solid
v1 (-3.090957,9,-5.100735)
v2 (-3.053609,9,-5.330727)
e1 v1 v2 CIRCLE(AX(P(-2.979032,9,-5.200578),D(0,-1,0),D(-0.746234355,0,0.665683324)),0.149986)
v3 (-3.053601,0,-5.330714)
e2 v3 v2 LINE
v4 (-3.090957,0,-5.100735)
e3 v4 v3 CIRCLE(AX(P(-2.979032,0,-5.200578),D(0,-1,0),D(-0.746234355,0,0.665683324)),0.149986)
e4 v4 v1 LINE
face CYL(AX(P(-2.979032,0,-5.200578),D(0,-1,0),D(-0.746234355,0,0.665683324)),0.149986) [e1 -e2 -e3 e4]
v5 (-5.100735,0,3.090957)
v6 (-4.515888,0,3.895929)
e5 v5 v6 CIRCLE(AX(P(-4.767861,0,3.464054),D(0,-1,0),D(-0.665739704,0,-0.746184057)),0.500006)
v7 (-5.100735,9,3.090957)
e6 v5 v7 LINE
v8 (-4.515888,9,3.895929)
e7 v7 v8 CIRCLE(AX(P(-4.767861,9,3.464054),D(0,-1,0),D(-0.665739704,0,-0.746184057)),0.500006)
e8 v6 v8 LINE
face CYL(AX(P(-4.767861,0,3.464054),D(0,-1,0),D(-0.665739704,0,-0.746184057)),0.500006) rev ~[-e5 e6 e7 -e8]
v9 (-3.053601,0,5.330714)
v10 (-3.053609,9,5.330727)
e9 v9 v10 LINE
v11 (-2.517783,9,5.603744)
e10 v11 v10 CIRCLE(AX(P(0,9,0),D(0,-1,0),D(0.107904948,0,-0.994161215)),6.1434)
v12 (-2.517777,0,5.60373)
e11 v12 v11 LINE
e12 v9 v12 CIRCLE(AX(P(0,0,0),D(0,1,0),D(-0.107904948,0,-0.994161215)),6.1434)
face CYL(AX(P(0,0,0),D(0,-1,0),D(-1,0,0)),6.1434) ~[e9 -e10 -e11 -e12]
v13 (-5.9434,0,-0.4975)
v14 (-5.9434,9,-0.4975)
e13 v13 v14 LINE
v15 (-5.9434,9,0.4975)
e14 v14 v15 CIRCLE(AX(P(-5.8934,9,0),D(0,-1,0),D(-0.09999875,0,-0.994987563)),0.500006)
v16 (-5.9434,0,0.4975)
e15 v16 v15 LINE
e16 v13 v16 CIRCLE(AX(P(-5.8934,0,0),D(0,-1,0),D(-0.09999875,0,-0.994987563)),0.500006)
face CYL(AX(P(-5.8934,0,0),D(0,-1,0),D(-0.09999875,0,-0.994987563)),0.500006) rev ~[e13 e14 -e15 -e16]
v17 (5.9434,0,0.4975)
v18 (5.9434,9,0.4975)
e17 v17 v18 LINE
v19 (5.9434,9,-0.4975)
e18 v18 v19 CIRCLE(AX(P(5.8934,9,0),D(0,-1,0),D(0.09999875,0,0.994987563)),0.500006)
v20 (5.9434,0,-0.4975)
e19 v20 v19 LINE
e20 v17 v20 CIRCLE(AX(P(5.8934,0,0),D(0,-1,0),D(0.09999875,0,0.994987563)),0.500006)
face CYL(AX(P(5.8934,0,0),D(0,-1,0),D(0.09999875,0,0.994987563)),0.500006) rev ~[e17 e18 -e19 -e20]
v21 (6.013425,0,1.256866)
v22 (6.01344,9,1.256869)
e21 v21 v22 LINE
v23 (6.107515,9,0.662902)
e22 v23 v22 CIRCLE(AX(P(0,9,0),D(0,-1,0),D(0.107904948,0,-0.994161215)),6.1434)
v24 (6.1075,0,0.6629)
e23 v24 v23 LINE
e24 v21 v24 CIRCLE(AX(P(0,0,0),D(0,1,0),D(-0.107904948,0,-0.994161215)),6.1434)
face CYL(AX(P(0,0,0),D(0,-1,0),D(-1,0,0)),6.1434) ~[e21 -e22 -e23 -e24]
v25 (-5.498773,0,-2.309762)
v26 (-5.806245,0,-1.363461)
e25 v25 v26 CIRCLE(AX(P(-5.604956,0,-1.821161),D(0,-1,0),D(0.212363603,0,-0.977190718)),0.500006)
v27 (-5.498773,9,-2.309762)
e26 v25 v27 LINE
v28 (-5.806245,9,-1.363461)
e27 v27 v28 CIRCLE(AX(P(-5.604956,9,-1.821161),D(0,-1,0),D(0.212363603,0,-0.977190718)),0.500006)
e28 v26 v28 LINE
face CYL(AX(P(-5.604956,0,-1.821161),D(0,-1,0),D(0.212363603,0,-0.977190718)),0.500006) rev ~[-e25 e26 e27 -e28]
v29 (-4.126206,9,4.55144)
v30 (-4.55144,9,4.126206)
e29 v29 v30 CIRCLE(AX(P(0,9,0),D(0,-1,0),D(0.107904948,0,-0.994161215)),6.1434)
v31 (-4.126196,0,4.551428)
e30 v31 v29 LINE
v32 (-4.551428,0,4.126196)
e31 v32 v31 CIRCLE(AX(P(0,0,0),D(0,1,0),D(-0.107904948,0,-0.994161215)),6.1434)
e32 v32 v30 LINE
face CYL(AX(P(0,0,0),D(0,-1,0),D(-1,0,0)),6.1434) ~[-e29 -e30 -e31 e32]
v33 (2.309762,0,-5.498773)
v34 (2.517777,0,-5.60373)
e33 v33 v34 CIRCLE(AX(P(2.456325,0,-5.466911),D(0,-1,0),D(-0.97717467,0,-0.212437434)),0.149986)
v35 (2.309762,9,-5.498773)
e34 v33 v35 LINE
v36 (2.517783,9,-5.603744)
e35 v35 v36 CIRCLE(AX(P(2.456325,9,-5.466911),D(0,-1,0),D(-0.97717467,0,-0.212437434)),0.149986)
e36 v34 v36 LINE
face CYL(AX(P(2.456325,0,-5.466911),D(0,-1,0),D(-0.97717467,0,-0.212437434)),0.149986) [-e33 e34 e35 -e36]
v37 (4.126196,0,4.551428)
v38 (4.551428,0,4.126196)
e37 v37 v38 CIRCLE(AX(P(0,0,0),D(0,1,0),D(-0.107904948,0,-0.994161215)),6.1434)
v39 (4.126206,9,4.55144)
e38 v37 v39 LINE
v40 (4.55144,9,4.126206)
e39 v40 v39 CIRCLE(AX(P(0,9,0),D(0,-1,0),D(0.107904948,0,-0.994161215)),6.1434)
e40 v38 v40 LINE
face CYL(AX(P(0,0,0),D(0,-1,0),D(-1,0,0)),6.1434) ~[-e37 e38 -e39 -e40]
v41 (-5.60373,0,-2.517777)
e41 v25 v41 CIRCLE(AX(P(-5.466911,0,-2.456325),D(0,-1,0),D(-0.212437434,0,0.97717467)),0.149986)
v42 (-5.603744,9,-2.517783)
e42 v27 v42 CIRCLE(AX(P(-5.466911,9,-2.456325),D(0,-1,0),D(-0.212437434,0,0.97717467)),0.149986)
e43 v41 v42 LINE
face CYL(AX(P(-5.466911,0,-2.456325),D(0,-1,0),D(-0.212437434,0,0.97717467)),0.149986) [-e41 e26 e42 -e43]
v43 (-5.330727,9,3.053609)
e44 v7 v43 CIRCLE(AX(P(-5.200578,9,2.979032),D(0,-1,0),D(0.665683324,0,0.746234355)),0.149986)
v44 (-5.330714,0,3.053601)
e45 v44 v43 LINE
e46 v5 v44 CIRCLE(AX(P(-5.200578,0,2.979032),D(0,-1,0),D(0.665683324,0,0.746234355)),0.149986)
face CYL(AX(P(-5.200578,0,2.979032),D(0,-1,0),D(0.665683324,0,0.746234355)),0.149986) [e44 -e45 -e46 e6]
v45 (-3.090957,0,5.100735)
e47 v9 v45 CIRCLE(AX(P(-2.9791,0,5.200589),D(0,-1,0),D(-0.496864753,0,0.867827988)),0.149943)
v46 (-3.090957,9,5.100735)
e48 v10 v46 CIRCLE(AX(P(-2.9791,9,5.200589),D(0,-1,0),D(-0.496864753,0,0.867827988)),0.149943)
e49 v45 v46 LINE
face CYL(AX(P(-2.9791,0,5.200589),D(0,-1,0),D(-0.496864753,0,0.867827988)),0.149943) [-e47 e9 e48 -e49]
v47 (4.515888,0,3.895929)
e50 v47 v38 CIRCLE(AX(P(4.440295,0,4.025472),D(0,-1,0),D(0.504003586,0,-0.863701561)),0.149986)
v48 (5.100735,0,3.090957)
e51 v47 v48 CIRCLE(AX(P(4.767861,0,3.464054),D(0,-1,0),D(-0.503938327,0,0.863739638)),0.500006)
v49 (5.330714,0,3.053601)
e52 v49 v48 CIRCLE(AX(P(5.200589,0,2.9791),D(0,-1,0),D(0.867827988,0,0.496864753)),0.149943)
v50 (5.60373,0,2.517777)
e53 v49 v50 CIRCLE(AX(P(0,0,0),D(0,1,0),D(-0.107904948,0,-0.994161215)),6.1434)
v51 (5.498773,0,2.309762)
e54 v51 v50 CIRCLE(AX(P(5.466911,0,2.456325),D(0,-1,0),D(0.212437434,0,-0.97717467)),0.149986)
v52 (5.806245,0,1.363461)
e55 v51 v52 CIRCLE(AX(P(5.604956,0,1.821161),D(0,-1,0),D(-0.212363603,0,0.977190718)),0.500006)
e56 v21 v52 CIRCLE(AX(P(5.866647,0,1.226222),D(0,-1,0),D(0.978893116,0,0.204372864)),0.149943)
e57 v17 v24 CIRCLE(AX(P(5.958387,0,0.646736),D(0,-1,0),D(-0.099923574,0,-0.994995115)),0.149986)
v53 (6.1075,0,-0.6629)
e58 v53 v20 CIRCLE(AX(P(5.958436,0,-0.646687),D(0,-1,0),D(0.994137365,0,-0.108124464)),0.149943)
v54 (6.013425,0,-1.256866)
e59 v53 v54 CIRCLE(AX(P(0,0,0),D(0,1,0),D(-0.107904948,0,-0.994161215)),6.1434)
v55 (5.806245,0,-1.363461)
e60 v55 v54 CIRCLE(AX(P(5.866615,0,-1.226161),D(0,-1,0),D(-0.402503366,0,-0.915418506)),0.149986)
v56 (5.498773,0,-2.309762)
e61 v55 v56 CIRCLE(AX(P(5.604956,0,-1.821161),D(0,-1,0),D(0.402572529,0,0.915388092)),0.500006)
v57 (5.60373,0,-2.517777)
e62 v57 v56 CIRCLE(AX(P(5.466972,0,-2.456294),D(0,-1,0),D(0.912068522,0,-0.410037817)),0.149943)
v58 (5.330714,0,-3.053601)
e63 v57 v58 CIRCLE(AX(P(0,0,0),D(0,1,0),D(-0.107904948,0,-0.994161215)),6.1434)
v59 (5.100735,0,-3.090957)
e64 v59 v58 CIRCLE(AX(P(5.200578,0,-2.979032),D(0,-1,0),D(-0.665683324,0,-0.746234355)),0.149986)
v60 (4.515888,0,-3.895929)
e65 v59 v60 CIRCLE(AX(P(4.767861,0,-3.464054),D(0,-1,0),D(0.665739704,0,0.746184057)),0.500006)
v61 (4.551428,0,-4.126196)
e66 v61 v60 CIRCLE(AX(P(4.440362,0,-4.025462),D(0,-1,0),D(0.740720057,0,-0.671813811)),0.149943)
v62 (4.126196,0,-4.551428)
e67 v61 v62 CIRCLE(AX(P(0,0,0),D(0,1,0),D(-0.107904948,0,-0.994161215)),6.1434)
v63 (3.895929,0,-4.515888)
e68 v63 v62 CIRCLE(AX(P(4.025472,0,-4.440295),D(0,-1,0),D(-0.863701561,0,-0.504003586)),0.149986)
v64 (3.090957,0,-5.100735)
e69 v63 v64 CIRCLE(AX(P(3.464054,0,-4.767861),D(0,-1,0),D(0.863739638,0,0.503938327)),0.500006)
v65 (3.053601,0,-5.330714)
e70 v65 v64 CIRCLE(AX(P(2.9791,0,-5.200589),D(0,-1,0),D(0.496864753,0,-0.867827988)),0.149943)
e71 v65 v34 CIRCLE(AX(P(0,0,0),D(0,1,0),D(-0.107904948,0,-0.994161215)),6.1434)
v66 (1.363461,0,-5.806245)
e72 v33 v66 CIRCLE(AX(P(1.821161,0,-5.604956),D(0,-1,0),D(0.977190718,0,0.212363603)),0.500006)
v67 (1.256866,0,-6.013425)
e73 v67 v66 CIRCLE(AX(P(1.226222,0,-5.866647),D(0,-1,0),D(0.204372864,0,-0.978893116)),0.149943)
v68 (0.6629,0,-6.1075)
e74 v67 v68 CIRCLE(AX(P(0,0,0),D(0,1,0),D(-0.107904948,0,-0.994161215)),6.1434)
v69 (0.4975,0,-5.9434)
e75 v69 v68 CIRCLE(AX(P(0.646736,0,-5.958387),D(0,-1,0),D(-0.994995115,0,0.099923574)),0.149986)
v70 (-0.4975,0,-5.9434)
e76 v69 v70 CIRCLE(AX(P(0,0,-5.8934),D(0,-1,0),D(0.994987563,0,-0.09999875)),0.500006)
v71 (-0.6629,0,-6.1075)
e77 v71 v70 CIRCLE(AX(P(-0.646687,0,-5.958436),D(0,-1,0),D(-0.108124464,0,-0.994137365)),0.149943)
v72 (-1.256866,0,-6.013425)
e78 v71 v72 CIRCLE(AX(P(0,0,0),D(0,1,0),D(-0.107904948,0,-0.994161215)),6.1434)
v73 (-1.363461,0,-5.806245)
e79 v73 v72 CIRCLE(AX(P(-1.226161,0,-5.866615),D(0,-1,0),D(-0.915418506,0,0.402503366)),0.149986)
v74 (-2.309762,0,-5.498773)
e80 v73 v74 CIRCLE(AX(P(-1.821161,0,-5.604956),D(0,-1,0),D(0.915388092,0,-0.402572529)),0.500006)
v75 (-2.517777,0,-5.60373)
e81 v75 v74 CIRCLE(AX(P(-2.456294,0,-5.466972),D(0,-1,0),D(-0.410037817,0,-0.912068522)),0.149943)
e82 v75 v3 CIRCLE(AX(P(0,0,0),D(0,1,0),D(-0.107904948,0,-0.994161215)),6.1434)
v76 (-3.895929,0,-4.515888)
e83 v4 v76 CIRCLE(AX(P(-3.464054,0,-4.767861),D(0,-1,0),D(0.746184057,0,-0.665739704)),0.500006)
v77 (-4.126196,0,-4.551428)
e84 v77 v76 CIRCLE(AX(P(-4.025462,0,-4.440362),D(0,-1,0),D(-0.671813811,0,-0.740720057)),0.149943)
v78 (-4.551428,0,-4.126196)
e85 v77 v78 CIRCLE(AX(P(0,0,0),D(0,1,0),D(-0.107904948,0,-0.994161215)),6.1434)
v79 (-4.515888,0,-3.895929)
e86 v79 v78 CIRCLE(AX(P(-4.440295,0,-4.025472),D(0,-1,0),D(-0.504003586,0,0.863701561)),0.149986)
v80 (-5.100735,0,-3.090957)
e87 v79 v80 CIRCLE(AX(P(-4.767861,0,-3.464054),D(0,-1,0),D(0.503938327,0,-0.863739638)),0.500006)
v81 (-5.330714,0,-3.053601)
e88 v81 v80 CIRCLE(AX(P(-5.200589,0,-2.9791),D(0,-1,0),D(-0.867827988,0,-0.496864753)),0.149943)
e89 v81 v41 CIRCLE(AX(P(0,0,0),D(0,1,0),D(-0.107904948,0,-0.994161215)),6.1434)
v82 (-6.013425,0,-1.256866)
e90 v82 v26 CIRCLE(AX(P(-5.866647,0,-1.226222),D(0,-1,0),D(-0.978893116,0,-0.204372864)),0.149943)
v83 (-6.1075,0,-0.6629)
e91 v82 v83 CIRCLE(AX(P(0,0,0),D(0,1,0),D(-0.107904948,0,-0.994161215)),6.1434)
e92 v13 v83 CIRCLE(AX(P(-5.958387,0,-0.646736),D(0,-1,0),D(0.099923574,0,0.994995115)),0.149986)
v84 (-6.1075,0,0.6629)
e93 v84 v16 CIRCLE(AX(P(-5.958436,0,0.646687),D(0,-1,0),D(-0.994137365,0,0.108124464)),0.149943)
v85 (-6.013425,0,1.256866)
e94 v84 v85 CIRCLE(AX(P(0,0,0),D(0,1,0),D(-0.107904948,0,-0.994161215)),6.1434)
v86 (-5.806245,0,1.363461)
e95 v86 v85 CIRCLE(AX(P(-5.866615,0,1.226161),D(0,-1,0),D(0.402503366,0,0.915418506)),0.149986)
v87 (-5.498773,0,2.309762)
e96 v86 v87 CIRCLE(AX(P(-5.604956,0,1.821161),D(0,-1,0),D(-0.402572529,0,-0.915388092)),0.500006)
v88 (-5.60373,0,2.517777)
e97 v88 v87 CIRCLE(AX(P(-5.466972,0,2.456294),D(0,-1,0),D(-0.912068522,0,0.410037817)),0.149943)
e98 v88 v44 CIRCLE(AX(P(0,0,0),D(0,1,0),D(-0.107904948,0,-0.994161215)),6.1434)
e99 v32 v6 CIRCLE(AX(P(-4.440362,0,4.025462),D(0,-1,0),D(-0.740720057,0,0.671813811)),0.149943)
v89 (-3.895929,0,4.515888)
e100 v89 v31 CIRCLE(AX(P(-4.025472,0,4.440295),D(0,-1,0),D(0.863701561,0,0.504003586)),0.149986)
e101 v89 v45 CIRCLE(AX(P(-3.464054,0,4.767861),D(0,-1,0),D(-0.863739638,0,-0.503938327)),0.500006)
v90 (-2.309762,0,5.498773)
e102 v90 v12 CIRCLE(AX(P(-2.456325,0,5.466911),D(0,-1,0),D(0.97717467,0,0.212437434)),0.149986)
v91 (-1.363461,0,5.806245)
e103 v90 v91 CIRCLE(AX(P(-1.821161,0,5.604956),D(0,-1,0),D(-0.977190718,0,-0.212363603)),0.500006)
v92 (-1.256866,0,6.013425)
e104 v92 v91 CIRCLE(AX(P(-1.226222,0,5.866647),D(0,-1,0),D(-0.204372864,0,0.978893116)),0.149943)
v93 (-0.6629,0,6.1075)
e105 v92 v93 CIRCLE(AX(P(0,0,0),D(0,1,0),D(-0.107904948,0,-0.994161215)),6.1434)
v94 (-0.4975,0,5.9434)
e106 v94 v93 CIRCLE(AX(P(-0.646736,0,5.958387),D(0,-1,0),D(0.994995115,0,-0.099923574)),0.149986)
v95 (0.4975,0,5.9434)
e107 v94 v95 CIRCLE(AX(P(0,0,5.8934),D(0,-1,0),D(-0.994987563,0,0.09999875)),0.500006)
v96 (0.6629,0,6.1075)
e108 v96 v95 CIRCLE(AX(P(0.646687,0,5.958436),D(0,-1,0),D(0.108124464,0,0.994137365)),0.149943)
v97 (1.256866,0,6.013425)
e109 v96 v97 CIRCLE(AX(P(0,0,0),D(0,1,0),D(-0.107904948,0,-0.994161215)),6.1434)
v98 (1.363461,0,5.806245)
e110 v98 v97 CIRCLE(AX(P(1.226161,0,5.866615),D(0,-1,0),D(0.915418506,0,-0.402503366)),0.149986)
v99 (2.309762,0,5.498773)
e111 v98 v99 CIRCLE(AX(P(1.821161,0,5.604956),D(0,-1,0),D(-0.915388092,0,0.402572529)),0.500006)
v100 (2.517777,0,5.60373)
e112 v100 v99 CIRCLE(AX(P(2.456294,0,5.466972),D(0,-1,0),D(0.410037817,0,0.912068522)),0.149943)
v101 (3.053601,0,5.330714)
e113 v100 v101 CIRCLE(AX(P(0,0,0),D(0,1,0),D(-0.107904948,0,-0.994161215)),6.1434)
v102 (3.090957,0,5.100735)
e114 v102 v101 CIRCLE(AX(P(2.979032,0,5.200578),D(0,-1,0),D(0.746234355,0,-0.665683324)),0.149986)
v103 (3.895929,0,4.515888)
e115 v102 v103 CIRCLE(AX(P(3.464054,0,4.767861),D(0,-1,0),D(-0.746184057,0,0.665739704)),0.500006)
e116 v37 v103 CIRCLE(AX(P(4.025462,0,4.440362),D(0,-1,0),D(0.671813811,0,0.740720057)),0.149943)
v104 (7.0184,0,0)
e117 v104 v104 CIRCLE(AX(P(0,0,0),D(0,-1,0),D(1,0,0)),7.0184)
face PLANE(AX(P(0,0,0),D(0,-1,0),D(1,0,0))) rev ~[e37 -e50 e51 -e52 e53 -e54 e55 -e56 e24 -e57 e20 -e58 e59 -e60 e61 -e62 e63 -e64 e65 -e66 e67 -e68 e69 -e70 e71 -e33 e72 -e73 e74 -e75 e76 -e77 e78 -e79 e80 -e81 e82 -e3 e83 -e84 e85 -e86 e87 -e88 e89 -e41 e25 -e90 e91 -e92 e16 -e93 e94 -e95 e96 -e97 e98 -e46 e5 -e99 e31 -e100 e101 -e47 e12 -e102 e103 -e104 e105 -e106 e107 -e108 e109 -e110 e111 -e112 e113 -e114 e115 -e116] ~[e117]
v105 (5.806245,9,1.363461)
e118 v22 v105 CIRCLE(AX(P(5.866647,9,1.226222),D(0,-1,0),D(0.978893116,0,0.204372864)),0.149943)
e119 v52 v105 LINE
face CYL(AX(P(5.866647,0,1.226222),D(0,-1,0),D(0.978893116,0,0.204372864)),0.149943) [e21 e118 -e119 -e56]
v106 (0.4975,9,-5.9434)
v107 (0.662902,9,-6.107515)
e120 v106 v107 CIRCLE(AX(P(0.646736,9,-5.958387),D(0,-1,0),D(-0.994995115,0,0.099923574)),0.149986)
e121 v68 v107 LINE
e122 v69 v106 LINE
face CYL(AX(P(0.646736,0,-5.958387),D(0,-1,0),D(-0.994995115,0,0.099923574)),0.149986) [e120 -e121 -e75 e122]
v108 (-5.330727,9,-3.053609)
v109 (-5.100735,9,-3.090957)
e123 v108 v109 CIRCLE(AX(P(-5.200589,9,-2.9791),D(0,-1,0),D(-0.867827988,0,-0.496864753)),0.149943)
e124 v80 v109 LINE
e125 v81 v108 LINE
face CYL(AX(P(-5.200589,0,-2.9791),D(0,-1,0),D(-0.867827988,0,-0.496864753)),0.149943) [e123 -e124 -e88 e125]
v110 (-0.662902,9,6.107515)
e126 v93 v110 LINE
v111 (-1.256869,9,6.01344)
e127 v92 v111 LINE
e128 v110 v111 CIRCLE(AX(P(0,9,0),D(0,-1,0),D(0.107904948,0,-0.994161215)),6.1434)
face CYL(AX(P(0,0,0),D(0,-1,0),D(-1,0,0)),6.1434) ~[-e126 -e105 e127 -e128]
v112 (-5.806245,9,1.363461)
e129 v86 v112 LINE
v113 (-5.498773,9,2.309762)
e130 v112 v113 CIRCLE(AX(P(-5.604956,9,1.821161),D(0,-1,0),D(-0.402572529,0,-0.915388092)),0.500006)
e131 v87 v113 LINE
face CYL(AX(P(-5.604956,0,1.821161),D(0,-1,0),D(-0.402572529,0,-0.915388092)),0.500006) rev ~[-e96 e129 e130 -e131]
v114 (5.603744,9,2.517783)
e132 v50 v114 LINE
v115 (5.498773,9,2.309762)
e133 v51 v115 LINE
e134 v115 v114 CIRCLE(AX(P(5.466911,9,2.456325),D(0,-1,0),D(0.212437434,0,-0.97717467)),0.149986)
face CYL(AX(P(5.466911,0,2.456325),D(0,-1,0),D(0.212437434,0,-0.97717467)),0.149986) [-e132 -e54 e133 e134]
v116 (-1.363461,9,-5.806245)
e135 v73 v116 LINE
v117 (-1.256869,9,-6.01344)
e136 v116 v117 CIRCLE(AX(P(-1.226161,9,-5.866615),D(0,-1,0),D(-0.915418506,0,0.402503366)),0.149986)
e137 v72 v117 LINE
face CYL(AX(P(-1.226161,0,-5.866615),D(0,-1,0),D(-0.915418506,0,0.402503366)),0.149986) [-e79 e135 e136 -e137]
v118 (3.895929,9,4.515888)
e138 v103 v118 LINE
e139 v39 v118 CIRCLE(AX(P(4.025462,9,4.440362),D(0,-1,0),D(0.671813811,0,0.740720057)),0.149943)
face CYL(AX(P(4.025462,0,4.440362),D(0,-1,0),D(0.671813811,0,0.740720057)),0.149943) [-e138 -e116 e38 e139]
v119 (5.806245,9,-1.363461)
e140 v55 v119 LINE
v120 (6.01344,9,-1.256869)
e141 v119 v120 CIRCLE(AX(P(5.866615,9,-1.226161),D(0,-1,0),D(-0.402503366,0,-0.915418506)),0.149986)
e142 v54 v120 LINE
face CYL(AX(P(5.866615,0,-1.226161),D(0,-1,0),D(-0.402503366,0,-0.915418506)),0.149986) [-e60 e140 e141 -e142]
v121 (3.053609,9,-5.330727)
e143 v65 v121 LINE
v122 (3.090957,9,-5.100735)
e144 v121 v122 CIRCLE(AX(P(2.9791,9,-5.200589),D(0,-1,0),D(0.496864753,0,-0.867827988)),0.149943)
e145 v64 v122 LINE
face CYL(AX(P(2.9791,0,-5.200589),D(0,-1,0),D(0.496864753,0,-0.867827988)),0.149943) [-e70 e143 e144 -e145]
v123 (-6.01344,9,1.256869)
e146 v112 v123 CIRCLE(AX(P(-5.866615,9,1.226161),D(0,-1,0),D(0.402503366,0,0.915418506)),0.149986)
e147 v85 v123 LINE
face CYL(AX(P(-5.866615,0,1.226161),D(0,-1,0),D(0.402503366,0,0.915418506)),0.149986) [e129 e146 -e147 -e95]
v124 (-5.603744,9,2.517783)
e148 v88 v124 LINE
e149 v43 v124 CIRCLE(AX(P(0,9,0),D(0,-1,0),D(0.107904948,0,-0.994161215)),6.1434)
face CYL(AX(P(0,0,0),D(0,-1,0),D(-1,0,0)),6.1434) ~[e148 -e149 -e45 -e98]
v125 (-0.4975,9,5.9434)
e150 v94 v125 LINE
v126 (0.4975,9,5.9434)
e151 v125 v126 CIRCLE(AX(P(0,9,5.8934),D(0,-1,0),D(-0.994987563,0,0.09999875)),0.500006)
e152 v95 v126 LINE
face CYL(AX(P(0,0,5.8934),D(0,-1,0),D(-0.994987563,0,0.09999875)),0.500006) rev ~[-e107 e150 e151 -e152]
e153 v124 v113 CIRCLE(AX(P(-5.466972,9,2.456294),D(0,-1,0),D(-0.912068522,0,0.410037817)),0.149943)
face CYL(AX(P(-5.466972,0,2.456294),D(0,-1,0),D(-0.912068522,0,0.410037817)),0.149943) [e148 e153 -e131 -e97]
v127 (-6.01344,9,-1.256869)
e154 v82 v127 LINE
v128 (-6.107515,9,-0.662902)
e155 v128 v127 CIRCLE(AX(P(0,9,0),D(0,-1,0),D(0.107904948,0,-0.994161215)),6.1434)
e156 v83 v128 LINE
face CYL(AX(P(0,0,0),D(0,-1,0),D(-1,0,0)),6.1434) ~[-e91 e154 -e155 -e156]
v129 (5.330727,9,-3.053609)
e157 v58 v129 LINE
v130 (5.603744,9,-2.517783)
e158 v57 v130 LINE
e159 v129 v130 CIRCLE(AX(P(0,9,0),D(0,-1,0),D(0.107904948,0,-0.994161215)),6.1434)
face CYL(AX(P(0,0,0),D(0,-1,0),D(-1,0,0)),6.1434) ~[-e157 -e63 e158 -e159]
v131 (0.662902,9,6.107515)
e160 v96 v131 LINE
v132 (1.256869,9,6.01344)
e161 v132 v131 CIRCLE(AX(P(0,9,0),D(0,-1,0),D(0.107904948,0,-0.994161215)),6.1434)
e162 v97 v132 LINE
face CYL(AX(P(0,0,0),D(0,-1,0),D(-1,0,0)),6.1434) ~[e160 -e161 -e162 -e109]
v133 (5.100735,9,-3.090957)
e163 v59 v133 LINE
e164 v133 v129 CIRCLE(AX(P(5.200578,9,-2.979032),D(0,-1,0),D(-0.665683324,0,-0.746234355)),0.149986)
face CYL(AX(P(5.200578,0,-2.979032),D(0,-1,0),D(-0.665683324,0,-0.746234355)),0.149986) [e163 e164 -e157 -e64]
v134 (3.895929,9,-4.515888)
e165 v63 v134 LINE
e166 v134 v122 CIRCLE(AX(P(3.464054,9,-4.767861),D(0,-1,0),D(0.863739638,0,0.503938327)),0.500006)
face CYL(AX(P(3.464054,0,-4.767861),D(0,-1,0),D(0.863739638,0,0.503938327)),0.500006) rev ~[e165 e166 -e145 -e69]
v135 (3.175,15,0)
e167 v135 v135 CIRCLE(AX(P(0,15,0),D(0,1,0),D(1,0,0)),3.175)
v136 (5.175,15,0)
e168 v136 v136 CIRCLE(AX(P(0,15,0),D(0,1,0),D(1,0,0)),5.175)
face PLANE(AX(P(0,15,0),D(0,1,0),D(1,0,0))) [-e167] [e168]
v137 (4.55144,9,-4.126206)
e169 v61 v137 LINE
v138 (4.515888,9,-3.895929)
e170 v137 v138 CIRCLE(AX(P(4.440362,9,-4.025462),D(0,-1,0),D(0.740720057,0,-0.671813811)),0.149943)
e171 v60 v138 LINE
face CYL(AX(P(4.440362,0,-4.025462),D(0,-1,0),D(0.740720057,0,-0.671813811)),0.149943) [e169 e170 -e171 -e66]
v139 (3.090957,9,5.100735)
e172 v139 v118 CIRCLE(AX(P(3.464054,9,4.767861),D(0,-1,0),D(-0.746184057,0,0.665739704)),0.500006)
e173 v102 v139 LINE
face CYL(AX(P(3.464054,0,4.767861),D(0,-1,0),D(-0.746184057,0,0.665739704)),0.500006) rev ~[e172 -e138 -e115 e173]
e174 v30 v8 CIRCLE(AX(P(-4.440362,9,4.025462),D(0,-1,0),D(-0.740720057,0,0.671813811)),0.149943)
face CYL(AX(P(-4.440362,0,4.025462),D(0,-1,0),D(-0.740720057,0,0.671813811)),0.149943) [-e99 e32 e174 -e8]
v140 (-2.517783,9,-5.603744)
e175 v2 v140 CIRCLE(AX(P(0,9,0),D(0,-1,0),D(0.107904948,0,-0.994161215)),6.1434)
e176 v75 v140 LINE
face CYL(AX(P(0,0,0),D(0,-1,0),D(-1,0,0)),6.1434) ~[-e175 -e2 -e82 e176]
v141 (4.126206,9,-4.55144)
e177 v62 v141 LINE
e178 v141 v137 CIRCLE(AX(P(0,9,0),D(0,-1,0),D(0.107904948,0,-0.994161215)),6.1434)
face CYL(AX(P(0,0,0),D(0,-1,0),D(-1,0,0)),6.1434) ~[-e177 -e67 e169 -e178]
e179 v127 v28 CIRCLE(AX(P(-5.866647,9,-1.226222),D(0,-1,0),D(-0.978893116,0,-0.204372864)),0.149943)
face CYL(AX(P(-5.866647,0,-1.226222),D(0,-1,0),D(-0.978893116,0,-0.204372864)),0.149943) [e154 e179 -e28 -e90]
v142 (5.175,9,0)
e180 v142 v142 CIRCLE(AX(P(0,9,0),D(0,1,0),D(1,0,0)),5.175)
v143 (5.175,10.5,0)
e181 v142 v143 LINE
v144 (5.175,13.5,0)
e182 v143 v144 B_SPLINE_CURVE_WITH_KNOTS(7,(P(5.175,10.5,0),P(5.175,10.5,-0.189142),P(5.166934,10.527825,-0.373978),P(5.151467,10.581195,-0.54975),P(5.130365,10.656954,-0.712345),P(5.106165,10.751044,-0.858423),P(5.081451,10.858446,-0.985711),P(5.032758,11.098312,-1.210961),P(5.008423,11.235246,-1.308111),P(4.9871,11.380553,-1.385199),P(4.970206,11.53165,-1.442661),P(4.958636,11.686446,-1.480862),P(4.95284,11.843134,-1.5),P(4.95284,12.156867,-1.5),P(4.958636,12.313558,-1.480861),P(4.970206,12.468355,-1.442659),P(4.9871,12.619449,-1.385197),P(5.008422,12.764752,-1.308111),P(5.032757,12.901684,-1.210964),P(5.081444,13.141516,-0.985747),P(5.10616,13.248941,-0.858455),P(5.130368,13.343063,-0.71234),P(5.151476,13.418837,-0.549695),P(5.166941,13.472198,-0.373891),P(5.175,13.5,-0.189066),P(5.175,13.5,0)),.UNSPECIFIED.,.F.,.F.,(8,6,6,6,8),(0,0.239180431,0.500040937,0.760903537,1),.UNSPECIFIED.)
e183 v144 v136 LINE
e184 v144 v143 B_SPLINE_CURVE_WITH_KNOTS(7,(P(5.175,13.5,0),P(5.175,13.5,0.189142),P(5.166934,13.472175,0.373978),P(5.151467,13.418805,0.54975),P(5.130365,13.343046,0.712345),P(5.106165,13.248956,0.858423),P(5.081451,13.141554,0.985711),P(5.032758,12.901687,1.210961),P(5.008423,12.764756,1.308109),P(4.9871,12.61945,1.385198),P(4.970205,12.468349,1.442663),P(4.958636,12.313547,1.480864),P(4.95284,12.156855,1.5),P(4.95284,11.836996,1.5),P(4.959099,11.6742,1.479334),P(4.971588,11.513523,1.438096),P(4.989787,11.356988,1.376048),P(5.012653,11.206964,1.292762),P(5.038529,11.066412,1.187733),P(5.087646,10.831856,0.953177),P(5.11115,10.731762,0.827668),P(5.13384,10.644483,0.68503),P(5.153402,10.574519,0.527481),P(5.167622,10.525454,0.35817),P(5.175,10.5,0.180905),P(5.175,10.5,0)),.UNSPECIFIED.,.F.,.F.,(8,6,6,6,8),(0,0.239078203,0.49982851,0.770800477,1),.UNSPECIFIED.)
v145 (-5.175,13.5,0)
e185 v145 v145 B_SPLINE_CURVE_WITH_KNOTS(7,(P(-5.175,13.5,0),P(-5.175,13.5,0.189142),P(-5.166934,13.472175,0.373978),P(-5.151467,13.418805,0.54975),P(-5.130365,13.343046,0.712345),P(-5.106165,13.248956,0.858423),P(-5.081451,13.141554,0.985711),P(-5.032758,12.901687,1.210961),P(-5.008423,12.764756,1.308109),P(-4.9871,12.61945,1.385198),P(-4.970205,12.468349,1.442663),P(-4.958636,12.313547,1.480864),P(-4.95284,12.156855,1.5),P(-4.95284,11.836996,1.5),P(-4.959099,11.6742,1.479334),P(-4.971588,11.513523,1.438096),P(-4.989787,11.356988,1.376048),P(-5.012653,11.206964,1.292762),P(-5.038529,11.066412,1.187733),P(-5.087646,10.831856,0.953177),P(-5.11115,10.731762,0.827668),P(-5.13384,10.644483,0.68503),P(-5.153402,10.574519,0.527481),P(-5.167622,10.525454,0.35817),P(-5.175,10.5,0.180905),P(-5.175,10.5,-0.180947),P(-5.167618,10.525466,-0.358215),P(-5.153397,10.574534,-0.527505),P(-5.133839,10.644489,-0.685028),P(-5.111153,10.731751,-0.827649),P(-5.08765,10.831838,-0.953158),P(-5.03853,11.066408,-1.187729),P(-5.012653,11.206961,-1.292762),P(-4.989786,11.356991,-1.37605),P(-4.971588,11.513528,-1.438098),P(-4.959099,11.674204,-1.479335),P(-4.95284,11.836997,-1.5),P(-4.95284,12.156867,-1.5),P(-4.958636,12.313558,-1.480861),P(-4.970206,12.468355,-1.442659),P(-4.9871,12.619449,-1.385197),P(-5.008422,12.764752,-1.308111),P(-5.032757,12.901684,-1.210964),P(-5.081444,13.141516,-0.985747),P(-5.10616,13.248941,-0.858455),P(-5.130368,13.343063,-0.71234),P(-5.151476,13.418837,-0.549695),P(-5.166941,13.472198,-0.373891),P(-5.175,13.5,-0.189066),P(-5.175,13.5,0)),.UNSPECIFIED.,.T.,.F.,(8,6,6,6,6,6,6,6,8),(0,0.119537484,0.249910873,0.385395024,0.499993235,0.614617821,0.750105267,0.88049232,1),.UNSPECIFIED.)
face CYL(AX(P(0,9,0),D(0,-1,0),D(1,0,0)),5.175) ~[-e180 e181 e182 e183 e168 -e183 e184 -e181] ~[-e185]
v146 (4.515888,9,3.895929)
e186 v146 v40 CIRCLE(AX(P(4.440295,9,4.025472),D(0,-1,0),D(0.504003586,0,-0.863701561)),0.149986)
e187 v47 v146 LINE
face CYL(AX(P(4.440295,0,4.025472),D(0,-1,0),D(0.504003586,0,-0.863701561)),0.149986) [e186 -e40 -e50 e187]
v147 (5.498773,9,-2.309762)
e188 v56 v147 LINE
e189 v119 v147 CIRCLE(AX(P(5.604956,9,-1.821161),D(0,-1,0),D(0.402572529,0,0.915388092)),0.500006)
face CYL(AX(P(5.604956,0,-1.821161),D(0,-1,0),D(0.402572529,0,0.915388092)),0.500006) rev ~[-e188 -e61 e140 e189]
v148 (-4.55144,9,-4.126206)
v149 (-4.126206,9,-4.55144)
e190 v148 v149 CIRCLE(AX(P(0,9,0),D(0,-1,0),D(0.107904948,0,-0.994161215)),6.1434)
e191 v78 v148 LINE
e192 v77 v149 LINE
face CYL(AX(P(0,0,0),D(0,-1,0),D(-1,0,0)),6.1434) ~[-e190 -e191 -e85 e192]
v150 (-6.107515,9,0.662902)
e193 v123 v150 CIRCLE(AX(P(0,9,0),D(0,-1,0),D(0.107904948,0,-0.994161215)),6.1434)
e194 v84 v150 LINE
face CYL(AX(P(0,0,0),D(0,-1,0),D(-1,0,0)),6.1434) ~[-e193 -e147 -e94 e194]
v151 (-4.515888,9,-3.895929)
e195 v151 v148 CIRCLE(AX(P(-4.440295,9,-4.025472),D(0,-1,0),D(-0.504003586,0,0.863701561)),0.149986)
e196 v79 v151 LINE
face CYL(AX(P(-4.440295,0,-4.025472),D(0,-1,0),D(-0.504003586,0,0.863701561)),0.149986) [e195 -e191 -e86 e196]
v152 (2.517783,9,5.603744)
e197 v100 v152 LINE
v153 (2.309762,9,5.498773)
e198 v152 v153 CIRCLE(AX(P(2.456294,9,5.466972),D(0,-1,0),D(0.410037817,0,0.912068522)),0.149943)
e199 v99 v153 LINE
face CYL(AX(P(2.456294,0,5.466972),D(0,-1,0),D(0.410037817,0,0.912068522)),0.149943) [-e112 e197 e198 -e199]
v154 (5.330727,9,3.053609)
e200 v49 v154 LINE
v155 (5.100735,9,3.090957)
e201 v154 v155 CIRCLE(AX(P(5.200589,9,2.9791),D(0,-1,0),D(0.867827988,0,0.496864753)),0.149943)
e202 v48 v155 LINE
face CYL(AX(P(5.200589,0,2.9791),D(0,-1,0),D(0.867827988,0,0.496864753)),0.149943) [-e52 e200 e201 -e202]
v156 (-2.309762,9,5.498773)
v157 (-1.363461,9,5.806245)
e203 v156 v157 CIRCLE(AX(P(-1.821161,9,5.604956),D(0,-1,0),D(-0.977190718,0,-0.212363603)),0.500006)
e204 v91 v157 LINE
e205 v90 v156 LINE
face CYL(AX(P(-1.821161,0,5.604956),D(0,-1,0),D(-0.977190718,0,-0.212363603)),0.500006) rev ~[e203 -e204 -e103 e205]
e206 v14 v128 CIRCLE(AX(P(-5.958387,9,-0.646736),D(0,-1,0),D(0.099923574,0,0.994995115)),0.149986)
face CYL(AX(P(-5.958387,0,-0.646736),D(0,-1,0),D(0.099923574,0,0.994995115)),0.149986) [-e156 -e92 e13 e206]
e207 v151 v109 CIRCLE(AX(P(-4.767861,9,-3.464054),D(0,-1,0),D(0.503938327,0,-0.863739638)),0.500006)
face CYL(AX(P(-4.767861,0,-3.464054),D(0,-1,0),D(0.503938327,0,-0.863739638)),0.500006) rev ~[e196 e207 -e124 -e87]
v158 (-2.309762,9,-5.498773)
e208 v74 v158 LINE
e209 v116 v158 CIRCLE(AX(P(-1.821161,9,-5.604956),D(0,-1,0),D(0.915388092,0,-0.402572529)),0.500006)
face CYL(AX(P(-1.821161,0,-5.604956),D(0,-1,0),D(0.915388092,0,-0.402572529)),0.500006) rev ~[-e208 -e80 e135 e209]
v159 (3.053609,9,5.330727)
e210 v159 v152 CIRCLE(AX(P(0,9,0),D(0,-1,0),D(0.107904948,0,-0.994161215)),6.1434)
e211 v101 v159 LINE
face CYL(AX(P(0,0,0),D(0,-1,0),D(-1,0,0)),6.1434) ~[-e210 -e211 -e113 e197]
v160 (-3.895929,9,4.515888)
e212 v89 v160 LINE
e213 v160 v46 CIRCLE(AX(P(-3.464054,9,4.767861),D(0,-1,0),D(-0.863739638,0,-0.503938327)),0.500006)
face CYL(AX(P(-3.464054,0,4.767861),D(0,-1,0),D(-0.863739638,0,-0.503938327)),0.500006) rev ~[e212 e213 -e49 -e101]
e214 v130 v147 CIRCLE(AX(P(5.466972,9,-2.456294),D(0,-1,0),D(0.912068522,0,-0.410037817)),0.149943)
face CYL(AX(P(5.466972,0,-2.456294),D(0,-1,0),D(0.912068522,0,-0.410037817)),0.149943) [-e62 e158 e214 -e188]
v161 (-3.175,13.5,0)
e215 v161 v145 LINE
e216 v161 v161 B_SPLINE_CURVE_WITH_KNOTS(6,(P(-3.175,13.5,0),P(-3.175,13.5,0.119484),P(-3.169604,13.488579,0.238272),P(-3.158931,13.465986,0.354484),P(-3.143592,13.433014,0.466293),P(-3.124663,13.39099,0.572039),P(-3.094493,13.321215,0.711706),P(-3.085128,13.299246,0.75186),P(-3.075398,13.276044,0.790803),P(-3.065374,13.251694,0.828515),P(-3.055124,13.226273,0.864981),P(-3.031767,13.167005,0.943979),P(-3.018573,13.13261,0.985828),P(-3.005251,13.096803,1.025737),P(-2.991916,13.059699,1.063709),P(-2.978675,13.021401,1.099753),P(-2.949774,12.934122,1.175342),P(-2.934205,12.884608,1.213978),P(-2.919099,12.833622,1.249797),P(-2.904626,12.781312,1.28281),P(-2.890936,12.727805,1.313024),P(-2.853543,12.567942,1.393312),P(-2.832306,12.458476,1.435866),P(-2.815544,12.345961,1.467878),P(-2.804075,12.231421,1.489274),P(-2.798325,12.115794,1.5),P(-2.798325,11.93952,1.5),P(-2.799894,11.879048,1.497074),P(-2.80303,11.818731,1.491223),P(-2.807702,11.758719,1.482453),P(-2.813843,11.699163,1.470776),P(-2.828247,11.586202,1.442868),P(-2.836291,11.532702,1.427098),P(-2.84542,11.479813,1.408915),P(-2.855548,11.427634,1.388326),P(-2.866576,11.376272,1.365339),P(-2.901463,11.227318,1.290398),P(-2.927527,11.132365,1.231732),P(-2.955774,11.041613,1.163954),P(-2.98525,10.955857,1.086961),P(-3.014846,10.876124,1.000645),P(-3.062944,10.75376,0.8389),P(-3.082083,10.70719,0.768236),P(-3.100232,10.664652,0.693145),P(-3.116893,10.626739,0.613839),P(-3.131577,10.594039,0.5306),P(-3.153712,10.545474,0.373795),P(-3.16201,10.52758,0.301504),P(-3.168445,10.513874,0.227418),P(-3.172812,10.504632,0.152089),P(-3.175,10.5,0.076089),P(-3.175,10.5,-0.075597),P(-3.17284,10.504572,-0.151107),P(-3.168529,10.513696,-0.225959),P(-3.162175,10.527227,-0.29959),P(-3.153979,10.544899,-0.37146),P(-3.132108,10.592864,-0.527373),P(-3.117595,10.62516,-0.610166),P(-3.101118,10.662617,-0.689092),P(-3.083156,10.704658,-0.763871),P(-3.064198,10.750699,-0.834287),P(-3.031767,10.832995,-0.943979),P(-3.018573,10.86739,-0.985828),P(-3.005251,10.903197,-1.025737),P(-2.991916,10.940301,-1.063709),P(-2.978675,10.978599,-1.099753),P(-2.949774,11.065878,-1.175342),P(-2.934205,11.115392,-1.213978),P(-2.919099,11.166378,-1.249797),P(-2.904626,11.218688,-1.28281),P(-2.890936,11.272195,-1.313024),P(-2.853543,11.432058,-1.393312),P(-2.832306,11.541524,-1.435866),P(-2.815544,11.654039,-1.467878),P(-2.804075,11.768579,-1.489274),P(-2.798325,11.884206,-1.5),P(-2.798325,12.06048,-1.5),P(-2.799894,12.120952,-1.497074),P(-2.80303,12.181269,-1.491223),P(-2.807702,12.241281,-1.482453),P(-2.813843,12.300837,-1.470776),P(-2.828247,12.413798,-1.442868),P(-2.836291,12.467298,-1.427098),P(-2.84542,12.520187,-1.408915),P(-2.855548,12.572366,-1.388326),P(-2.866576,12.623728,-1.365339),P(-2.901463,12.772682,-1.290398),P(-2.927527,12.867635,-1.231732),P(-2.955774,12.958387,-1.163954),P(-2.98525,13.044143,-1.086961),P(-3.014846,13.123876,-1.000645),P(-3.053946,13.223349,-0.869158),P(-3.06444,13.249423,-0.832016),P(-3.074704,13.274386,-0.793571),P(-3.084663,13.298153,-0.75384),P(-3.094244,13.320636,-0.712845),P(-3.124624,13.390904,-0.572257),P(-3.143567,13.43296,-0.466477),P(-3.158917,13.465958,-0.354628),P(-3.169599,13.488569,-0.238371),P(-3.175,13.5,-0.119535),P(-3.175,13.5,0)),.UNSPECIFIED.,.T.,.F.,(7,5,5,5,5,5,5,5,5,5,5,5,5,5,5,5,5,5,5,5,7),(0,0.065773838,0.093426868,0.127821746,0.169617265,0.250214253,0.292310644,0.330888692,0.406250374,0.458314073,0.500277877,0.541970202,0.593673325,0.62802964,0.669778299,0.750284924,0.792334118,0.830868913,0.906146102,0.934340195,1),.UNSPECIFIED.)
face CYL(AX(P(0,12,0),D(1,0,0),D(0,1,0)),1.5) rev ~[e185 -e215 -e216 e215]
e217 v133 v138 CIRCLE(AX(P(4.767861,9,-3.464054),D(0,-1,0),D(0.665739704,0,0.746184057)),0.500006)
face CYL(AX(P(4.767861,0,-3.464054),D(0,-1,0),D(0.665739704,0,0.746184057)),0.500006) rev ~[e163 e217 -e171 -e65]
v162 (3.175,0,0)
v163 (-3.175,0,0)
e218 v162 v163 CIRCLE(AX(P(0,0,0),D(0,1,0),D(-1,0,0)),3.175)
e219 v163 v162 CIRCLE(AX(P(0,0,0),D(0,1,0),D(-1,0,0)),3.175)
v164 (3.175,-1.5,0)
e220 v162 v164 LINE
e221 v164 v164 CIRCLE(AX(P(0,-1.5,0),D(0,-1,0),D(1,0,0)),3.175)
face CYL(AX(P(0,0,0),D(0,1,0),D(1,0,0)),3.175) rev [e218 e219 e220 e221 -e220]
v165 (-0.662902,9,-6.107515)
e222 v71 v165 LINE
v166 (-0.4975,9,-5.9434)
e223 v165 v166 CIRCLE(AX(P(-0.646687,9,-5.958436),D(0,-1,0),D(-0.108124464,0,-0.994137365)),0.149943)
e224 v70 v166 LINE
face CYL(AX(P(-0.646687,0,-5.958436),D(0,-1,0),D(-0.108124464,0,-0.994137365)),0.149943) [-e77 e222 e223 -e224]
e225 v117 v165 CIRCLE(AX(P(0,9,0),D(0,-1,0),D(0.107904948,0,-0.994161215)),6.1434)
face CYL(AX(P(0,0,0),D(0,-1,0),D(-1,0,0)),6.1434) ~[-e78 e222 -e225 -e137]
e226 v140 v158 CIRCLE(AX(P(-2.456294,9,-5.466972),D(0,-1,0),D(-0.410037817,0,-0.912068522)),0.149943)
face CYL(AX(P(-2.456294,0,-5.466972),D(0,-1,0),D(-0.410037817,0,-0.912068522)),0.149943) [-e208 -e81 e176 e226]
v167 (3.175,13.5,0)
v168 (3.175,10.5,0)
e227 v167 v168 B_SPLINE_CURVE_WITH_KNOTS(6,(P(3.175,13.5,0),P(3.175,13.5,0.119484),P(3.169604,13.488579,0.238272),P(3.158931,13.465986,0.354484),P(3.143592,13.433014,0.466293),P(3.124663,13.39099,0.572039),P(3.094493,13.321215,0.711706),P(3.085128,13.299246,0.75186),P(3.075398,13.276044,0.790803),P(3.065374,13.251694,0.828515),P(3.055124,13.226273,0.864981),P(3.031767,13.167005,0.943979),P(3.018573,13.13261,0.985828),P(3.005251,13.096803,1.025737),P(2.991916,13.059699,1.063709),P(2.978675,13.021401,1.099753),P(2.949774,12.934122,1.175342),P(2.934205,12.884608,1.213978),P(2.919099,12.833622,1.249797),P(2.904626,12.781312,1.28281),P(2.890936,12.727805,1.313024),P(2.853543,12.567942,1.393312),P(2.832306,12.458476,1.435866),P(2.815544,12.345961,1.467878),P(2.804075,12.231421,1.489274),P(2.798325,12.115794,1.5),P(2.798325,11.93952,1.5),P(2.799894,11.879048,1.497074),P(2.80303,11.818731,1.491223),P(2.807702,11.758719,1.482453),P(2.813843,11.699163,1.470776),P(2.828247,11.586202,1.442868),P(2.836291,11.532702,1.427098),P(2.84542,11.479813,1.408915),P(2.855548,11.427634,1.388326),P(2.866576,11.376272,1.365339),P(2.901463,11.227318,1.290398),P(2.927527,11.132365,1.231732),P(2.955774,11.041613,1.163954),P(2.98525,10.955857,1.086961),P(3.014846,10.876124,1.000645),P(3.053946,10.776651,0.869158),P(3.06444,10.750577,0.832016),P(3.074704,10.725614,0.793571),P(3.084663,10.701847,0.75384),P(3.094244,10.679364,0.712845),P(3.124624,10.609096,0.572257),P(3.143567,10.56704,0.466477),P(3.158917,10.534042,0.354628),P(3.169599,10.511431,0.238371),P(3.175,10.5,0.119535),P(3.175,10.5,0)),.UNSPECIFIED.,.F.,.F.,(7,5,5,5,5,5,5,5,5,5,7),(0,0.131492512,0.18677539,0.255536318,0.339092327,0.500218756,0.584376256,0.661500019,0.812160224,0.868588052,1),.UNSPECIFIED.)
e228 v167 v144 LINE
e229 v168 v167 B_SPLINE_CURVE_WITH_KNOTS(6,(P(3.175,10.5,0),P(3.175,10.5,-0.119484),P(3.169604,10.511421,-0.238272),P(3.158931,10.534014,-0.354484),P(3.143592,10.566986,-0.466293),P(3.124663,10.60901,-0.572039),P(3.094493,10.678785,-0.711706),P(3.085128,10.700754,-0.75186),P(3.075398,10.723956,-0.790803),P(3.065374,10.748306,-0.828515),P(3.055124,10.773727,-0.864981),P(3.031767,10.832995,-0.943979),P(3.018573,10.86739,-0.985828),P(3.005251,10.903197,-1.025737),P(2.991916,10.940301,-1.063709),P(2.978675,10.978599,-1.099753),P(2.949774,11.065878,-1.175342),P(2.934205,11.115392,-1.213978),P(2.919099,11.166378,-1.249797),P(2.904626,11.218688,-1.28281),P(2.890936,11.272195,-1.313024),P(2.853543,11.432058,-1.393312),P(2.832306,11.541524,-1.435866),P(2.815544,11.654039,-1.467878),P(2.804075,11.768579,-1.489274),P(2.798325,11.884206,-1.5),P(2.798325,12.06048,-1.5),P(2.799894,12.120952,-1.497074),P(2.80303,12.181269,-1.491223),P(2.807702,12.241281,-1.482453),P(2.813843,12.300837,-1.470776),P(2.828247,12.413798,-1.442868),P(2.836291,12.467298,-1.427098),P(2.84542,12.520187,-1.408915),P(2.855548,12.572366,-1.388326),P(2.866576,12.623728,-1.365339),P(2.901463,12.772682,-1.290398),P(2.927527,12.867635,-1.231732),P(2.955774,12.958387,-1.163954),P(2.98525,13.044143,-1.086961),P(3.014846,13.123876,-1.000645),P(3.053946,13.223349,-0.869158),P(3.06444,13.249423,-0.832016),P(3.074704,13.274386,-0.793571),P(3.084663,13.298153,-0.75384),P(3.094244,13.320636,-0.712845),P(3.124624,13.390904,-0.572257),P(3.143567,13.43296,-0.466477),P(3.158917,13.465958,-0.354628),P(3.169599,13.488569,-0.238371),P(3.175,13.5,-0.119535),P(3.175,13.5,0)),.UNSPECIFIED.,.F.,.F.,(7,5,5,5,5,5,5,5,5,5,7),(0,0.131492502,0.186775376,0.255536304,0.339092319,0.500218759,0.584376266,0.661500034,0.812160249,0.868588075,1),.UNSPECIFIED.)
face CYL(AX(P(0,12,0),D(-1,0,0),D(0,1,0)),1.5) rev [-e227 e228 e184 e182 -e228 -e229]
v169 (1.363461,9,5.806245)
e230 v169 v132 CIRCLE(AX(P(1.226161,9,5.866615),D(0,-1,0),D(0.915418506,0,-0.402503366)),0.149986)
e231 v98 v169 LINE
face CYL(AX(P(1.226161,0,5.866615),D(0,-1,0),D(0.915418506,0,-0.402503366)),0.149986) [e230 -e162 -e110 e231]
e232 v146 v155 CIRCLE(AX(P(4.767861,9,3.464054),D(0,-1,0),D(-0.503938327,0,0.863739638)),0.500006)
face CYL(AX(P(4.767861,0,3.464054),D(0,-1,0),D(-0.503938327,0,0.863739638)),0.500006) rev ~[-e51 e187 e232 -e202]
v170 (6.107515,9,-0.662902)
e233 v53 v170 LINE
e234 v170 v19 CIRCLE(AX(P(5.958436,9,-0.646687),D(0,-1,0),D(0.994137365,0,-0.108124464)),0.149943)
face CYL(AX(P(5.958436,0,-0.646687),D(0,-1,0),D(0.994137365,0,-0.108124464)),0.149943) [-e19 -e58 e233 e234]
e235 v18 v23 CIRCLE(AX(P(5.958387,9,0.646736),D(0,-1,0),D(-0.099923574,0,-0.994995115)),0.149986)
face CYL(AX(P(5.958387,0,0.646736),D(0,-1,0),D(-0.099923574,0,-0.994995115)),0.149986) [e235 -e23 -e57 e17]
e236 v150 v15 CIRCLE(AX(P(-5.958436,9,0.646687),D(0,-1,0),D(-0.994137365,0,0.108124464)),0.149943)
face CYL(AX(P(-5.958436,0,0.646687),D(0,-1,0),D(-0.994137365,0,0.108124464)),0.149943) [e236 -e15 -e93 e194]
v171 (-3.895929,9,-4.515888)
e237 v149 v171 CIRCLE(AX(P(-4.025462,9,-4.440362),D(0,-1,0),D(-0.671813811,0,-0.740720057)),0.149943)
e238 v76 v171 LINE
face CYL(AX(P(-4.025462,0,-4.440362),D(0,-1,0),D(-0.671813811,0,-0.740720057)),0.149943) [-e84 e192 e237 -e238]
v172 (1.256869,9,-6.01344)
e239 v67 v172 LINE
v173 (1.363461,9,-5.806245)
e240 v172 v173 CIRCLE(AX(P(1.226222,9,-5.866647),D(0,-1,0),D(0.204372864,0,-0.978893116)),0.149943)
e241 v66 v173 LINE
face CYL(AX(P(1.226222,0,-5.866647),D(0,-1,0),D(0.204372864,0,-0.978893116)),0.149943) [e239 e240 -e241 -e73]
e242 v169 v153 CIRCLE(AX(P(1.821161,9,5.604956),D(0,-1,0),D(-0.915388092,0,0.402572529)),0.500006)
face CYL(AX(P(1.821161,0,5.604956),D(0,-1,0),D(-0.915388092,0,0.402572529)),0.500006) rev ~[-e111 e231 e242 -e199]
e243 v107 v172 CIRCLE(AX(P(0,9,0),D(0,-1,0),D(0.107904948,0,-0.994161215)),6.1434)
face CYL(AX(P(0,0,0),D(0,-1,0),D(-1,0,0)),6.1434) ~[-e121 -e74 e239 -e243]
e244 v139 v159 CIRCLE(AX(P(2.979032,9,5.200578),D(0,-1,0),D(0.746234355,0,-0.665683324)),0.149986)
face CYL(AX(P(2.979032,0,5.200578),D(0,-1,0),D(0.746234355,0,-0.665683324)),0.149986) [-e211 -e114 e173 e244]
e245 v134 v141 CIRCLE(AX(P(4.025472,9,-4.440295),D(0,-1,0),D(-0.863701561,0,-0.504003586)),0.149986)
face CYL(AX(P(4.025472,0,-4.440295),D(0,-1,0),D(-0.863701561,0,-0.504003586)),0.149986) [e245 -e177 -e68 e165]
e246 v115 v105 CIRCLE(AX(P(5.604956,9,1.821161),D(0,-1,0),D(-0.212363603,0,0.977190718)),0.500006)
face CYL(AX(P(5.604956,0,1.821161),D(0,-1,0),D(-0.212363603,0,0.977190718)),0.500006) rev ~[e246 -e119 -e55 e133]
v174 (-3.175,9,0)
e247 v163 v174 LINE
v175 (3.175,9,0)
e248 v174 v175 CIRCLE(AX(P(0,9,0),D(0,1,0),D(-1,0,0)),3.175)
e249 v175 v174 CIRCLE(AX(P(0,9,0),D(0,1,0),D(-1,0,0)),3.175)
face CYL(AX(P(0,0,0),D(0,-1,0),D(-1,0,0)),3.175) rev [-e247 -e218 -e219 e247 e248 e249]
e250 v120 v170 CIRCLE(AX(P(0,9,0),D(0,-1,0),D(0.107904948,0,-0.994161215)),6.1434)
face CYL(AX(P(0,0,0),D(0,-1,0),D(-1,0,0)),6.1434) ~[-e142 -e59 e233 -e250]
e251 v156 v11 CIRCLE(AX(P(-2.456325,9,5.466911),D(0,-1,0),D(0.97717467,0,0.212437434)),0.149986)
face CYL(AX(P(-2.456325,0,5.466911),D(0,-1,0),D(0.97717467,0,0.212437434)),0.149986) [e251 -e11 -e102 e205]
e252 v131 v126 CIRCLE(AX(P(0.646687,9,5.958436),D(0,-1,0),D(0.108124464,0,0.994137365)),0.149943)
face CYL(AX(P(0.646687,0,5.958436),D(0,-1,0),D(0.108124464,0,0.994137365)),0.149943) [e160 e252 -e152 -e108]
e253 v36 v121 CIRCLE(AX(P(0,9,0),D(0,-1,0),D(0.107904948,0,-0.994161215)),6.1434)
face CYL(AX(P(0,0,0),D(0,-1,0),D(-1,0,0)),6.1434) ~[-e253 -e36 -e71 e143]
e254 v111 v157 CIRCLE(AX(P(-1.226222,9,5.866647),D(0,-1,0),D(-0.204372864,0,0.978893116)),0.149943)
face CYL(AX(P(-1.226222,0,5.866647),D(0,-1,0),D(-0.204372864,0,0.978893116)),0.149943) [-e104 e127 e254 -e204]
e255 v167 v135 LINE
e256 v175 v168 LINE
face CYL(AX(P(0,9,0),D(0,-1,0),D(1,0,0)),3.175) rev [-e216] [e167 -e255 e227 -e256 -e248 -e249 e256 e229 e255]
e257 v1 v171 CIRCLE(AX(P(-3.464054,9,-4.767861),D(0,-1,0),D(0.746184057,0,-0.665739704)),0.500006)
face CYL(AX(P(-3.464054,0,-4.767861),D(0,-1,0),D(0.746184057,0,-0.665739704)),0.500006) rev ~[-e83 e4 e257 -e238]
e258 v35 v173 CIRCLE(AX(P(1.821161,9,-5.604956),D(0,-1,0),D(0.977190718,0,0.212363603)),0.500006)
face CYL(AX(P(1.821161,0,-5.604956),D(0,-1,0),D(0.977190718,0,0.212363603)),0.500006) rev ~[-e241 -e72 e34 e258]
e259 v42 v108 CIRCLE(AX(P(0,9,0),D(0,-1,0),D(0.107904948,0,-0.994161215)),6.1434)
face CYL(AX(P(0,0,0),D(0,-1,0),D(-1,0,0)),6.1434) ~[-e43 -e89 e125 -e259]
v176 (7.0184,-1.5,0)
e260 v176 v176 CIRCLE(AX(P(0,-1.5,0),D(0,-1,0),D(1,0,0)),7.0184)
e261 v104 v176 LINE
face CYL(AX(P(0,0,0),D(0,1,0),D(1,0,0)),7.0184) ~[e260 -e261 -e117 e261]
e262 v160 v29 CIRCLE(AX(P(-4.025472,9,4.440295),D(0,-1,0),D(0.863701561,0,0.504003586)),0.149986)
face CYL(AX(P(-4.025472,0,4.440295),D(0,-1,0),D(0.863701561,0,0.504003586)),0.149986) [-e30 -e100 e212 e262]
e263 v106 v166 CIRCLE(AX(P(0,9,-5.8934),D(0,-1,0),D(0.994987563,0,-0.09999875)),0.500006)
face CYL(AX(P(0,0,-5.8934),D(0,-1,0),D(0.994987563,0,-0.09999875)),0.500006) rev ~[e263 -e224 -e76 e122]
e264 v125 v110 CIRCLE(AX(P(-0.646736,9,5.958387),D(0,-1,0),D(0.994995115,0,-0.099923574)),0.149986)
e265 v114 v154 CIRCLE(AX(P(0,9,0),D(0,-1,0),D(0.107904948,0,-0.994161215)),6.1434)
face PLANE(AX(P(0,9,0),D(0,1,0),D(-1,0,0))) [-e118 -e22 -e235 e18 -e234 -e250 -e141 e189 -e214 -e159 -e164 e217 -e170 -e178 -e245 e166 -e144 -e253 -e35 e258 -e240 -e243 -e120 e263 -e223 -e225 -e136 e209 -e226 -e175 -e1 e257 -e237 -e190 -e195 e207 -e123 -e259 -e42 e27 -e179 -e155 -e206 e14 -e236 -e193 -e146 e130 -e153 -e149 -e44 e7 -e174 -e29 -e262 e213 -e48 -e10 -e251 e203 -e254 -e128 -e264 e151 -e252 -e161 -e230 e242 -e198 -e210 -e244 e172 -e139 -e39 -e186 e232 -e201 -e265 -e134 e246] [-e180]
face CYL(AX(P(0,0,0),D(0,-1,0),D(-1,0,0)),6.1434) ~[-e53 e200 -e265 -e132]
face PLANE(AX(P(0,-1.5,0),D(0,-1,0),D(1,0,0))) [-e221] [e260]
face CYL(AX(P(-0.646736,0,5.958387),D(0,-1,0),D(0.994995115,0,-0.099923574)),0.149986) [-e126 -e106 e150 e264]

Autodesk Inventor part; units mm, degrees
ref_plane "YZ Plane" through (0, 0, 0) normal (1, 0, 0) x (0, 1, 0)
ref_plane "XZ Plane" through (0, 0, 0) normal (0, 1, 0) x (-1, 0, 0)
ref_plane "XY Plane" through (0, 0, 0) normal (0, 0, 1) x (1, 0, 0)
sketch "Sketch1" plane through (0, 0, 0) normal (0, 1, 0) x (-1, 0, 0)
  circle A0 centre (0, 0) radius 3.175
  circle A1 centre (0, 0) radius 6.1434
  dimension "BoreD" = 6.35
  dimension "OuterD" = 12.2868
extrude "Extrusion1" add sketch "Sketch1" along normal blind 9
sketch "Sketch2" plane through (0, 0, 0) normal (0, -1, 0) x (1, 0, 0)
  circle A0 centre (0, 0) radius 6.1434 projected
  arc A1 (0.4975, -5.9434) -> (0.6629, -6.1075) centre (0.6467, -5.9584) ccw
  arc A2 (0.4975, -5.9434) -> (-0.4975, -5.9434) centre (0, -5.8934) ccw
  arc A3 (-0.6629, -6.1075) -> (-0.4975, -5.9434) centre (-0.6467, -5.9584) ccw
  point P0 (0, -6.1434)
  dimension "d9" = 0.5
  dimension "d10" = 0.15
  dimension "Depth" = 0.25
extrude "Extrusion2" cut sketch "Sketch2" against normal up to next contours A3 A2 A1 A0 picked at (0, -5.8907)
pattern_circular "Circular Pattern1" count 20 over 360 about axis through (0, -10, 0) along (0, 1, 0) of "Extrusion2"
sketch "Sketch3" plane through (0, 0, 0) normal (0, -1, 0) x (1, 0, 0)
  circle A0 centre (0, 0) radius 7.0184
  circle A1 centre (0, 0) radius 3.175
  dimension "FaceD" = 14.0368
  dimension "d18" = 6.35
extrude "Extrusion3" add sketch "Sketch3" along normal blind 1.5
sketch "Sketch4" plane through (0, 9, 0) normal (0, 1, 0) x (1, 0, 0)
  circle A0 centre (0, 0) radius 3.175 projected
  circle A1 centre (0, 0) radius 5.175
  circle A2 centre (0, 0) radius 7.0184 projected
  dimension "d21" = 2
extrude "Extrusion4" [suppressed]
extrude "Extrusion5" add sketch "Sketch4" along normal blind 6 contours A1
sketch "Sketch5" plane through (0, 0, 0) normal (1, 0, 0) x (0, 1, 0)
  circle A0 centre (12, 0) radius 1.5
  line L0 (9, -5.175) -> (15, -5.175) projected
  point P0 (0, 0)
  point P1 (12, -5.175)
  dimension "d26" = 3
extrude "Extrusion6" cut sketch "Sketch5" along normal through all both and the other way through all
equation "\"OuterD\" = 0.614338 * Teeth"
equation "\"Depth\" = Pitch"
equation "\"d18\" = BoreD"
equation "\"BeltWidth\" = 8"
equation "\"Pitch\" = 0.25"
equation "\"Teeth\" = 20"
properties part number "GT2Yaw" material "ABS Plastic"
